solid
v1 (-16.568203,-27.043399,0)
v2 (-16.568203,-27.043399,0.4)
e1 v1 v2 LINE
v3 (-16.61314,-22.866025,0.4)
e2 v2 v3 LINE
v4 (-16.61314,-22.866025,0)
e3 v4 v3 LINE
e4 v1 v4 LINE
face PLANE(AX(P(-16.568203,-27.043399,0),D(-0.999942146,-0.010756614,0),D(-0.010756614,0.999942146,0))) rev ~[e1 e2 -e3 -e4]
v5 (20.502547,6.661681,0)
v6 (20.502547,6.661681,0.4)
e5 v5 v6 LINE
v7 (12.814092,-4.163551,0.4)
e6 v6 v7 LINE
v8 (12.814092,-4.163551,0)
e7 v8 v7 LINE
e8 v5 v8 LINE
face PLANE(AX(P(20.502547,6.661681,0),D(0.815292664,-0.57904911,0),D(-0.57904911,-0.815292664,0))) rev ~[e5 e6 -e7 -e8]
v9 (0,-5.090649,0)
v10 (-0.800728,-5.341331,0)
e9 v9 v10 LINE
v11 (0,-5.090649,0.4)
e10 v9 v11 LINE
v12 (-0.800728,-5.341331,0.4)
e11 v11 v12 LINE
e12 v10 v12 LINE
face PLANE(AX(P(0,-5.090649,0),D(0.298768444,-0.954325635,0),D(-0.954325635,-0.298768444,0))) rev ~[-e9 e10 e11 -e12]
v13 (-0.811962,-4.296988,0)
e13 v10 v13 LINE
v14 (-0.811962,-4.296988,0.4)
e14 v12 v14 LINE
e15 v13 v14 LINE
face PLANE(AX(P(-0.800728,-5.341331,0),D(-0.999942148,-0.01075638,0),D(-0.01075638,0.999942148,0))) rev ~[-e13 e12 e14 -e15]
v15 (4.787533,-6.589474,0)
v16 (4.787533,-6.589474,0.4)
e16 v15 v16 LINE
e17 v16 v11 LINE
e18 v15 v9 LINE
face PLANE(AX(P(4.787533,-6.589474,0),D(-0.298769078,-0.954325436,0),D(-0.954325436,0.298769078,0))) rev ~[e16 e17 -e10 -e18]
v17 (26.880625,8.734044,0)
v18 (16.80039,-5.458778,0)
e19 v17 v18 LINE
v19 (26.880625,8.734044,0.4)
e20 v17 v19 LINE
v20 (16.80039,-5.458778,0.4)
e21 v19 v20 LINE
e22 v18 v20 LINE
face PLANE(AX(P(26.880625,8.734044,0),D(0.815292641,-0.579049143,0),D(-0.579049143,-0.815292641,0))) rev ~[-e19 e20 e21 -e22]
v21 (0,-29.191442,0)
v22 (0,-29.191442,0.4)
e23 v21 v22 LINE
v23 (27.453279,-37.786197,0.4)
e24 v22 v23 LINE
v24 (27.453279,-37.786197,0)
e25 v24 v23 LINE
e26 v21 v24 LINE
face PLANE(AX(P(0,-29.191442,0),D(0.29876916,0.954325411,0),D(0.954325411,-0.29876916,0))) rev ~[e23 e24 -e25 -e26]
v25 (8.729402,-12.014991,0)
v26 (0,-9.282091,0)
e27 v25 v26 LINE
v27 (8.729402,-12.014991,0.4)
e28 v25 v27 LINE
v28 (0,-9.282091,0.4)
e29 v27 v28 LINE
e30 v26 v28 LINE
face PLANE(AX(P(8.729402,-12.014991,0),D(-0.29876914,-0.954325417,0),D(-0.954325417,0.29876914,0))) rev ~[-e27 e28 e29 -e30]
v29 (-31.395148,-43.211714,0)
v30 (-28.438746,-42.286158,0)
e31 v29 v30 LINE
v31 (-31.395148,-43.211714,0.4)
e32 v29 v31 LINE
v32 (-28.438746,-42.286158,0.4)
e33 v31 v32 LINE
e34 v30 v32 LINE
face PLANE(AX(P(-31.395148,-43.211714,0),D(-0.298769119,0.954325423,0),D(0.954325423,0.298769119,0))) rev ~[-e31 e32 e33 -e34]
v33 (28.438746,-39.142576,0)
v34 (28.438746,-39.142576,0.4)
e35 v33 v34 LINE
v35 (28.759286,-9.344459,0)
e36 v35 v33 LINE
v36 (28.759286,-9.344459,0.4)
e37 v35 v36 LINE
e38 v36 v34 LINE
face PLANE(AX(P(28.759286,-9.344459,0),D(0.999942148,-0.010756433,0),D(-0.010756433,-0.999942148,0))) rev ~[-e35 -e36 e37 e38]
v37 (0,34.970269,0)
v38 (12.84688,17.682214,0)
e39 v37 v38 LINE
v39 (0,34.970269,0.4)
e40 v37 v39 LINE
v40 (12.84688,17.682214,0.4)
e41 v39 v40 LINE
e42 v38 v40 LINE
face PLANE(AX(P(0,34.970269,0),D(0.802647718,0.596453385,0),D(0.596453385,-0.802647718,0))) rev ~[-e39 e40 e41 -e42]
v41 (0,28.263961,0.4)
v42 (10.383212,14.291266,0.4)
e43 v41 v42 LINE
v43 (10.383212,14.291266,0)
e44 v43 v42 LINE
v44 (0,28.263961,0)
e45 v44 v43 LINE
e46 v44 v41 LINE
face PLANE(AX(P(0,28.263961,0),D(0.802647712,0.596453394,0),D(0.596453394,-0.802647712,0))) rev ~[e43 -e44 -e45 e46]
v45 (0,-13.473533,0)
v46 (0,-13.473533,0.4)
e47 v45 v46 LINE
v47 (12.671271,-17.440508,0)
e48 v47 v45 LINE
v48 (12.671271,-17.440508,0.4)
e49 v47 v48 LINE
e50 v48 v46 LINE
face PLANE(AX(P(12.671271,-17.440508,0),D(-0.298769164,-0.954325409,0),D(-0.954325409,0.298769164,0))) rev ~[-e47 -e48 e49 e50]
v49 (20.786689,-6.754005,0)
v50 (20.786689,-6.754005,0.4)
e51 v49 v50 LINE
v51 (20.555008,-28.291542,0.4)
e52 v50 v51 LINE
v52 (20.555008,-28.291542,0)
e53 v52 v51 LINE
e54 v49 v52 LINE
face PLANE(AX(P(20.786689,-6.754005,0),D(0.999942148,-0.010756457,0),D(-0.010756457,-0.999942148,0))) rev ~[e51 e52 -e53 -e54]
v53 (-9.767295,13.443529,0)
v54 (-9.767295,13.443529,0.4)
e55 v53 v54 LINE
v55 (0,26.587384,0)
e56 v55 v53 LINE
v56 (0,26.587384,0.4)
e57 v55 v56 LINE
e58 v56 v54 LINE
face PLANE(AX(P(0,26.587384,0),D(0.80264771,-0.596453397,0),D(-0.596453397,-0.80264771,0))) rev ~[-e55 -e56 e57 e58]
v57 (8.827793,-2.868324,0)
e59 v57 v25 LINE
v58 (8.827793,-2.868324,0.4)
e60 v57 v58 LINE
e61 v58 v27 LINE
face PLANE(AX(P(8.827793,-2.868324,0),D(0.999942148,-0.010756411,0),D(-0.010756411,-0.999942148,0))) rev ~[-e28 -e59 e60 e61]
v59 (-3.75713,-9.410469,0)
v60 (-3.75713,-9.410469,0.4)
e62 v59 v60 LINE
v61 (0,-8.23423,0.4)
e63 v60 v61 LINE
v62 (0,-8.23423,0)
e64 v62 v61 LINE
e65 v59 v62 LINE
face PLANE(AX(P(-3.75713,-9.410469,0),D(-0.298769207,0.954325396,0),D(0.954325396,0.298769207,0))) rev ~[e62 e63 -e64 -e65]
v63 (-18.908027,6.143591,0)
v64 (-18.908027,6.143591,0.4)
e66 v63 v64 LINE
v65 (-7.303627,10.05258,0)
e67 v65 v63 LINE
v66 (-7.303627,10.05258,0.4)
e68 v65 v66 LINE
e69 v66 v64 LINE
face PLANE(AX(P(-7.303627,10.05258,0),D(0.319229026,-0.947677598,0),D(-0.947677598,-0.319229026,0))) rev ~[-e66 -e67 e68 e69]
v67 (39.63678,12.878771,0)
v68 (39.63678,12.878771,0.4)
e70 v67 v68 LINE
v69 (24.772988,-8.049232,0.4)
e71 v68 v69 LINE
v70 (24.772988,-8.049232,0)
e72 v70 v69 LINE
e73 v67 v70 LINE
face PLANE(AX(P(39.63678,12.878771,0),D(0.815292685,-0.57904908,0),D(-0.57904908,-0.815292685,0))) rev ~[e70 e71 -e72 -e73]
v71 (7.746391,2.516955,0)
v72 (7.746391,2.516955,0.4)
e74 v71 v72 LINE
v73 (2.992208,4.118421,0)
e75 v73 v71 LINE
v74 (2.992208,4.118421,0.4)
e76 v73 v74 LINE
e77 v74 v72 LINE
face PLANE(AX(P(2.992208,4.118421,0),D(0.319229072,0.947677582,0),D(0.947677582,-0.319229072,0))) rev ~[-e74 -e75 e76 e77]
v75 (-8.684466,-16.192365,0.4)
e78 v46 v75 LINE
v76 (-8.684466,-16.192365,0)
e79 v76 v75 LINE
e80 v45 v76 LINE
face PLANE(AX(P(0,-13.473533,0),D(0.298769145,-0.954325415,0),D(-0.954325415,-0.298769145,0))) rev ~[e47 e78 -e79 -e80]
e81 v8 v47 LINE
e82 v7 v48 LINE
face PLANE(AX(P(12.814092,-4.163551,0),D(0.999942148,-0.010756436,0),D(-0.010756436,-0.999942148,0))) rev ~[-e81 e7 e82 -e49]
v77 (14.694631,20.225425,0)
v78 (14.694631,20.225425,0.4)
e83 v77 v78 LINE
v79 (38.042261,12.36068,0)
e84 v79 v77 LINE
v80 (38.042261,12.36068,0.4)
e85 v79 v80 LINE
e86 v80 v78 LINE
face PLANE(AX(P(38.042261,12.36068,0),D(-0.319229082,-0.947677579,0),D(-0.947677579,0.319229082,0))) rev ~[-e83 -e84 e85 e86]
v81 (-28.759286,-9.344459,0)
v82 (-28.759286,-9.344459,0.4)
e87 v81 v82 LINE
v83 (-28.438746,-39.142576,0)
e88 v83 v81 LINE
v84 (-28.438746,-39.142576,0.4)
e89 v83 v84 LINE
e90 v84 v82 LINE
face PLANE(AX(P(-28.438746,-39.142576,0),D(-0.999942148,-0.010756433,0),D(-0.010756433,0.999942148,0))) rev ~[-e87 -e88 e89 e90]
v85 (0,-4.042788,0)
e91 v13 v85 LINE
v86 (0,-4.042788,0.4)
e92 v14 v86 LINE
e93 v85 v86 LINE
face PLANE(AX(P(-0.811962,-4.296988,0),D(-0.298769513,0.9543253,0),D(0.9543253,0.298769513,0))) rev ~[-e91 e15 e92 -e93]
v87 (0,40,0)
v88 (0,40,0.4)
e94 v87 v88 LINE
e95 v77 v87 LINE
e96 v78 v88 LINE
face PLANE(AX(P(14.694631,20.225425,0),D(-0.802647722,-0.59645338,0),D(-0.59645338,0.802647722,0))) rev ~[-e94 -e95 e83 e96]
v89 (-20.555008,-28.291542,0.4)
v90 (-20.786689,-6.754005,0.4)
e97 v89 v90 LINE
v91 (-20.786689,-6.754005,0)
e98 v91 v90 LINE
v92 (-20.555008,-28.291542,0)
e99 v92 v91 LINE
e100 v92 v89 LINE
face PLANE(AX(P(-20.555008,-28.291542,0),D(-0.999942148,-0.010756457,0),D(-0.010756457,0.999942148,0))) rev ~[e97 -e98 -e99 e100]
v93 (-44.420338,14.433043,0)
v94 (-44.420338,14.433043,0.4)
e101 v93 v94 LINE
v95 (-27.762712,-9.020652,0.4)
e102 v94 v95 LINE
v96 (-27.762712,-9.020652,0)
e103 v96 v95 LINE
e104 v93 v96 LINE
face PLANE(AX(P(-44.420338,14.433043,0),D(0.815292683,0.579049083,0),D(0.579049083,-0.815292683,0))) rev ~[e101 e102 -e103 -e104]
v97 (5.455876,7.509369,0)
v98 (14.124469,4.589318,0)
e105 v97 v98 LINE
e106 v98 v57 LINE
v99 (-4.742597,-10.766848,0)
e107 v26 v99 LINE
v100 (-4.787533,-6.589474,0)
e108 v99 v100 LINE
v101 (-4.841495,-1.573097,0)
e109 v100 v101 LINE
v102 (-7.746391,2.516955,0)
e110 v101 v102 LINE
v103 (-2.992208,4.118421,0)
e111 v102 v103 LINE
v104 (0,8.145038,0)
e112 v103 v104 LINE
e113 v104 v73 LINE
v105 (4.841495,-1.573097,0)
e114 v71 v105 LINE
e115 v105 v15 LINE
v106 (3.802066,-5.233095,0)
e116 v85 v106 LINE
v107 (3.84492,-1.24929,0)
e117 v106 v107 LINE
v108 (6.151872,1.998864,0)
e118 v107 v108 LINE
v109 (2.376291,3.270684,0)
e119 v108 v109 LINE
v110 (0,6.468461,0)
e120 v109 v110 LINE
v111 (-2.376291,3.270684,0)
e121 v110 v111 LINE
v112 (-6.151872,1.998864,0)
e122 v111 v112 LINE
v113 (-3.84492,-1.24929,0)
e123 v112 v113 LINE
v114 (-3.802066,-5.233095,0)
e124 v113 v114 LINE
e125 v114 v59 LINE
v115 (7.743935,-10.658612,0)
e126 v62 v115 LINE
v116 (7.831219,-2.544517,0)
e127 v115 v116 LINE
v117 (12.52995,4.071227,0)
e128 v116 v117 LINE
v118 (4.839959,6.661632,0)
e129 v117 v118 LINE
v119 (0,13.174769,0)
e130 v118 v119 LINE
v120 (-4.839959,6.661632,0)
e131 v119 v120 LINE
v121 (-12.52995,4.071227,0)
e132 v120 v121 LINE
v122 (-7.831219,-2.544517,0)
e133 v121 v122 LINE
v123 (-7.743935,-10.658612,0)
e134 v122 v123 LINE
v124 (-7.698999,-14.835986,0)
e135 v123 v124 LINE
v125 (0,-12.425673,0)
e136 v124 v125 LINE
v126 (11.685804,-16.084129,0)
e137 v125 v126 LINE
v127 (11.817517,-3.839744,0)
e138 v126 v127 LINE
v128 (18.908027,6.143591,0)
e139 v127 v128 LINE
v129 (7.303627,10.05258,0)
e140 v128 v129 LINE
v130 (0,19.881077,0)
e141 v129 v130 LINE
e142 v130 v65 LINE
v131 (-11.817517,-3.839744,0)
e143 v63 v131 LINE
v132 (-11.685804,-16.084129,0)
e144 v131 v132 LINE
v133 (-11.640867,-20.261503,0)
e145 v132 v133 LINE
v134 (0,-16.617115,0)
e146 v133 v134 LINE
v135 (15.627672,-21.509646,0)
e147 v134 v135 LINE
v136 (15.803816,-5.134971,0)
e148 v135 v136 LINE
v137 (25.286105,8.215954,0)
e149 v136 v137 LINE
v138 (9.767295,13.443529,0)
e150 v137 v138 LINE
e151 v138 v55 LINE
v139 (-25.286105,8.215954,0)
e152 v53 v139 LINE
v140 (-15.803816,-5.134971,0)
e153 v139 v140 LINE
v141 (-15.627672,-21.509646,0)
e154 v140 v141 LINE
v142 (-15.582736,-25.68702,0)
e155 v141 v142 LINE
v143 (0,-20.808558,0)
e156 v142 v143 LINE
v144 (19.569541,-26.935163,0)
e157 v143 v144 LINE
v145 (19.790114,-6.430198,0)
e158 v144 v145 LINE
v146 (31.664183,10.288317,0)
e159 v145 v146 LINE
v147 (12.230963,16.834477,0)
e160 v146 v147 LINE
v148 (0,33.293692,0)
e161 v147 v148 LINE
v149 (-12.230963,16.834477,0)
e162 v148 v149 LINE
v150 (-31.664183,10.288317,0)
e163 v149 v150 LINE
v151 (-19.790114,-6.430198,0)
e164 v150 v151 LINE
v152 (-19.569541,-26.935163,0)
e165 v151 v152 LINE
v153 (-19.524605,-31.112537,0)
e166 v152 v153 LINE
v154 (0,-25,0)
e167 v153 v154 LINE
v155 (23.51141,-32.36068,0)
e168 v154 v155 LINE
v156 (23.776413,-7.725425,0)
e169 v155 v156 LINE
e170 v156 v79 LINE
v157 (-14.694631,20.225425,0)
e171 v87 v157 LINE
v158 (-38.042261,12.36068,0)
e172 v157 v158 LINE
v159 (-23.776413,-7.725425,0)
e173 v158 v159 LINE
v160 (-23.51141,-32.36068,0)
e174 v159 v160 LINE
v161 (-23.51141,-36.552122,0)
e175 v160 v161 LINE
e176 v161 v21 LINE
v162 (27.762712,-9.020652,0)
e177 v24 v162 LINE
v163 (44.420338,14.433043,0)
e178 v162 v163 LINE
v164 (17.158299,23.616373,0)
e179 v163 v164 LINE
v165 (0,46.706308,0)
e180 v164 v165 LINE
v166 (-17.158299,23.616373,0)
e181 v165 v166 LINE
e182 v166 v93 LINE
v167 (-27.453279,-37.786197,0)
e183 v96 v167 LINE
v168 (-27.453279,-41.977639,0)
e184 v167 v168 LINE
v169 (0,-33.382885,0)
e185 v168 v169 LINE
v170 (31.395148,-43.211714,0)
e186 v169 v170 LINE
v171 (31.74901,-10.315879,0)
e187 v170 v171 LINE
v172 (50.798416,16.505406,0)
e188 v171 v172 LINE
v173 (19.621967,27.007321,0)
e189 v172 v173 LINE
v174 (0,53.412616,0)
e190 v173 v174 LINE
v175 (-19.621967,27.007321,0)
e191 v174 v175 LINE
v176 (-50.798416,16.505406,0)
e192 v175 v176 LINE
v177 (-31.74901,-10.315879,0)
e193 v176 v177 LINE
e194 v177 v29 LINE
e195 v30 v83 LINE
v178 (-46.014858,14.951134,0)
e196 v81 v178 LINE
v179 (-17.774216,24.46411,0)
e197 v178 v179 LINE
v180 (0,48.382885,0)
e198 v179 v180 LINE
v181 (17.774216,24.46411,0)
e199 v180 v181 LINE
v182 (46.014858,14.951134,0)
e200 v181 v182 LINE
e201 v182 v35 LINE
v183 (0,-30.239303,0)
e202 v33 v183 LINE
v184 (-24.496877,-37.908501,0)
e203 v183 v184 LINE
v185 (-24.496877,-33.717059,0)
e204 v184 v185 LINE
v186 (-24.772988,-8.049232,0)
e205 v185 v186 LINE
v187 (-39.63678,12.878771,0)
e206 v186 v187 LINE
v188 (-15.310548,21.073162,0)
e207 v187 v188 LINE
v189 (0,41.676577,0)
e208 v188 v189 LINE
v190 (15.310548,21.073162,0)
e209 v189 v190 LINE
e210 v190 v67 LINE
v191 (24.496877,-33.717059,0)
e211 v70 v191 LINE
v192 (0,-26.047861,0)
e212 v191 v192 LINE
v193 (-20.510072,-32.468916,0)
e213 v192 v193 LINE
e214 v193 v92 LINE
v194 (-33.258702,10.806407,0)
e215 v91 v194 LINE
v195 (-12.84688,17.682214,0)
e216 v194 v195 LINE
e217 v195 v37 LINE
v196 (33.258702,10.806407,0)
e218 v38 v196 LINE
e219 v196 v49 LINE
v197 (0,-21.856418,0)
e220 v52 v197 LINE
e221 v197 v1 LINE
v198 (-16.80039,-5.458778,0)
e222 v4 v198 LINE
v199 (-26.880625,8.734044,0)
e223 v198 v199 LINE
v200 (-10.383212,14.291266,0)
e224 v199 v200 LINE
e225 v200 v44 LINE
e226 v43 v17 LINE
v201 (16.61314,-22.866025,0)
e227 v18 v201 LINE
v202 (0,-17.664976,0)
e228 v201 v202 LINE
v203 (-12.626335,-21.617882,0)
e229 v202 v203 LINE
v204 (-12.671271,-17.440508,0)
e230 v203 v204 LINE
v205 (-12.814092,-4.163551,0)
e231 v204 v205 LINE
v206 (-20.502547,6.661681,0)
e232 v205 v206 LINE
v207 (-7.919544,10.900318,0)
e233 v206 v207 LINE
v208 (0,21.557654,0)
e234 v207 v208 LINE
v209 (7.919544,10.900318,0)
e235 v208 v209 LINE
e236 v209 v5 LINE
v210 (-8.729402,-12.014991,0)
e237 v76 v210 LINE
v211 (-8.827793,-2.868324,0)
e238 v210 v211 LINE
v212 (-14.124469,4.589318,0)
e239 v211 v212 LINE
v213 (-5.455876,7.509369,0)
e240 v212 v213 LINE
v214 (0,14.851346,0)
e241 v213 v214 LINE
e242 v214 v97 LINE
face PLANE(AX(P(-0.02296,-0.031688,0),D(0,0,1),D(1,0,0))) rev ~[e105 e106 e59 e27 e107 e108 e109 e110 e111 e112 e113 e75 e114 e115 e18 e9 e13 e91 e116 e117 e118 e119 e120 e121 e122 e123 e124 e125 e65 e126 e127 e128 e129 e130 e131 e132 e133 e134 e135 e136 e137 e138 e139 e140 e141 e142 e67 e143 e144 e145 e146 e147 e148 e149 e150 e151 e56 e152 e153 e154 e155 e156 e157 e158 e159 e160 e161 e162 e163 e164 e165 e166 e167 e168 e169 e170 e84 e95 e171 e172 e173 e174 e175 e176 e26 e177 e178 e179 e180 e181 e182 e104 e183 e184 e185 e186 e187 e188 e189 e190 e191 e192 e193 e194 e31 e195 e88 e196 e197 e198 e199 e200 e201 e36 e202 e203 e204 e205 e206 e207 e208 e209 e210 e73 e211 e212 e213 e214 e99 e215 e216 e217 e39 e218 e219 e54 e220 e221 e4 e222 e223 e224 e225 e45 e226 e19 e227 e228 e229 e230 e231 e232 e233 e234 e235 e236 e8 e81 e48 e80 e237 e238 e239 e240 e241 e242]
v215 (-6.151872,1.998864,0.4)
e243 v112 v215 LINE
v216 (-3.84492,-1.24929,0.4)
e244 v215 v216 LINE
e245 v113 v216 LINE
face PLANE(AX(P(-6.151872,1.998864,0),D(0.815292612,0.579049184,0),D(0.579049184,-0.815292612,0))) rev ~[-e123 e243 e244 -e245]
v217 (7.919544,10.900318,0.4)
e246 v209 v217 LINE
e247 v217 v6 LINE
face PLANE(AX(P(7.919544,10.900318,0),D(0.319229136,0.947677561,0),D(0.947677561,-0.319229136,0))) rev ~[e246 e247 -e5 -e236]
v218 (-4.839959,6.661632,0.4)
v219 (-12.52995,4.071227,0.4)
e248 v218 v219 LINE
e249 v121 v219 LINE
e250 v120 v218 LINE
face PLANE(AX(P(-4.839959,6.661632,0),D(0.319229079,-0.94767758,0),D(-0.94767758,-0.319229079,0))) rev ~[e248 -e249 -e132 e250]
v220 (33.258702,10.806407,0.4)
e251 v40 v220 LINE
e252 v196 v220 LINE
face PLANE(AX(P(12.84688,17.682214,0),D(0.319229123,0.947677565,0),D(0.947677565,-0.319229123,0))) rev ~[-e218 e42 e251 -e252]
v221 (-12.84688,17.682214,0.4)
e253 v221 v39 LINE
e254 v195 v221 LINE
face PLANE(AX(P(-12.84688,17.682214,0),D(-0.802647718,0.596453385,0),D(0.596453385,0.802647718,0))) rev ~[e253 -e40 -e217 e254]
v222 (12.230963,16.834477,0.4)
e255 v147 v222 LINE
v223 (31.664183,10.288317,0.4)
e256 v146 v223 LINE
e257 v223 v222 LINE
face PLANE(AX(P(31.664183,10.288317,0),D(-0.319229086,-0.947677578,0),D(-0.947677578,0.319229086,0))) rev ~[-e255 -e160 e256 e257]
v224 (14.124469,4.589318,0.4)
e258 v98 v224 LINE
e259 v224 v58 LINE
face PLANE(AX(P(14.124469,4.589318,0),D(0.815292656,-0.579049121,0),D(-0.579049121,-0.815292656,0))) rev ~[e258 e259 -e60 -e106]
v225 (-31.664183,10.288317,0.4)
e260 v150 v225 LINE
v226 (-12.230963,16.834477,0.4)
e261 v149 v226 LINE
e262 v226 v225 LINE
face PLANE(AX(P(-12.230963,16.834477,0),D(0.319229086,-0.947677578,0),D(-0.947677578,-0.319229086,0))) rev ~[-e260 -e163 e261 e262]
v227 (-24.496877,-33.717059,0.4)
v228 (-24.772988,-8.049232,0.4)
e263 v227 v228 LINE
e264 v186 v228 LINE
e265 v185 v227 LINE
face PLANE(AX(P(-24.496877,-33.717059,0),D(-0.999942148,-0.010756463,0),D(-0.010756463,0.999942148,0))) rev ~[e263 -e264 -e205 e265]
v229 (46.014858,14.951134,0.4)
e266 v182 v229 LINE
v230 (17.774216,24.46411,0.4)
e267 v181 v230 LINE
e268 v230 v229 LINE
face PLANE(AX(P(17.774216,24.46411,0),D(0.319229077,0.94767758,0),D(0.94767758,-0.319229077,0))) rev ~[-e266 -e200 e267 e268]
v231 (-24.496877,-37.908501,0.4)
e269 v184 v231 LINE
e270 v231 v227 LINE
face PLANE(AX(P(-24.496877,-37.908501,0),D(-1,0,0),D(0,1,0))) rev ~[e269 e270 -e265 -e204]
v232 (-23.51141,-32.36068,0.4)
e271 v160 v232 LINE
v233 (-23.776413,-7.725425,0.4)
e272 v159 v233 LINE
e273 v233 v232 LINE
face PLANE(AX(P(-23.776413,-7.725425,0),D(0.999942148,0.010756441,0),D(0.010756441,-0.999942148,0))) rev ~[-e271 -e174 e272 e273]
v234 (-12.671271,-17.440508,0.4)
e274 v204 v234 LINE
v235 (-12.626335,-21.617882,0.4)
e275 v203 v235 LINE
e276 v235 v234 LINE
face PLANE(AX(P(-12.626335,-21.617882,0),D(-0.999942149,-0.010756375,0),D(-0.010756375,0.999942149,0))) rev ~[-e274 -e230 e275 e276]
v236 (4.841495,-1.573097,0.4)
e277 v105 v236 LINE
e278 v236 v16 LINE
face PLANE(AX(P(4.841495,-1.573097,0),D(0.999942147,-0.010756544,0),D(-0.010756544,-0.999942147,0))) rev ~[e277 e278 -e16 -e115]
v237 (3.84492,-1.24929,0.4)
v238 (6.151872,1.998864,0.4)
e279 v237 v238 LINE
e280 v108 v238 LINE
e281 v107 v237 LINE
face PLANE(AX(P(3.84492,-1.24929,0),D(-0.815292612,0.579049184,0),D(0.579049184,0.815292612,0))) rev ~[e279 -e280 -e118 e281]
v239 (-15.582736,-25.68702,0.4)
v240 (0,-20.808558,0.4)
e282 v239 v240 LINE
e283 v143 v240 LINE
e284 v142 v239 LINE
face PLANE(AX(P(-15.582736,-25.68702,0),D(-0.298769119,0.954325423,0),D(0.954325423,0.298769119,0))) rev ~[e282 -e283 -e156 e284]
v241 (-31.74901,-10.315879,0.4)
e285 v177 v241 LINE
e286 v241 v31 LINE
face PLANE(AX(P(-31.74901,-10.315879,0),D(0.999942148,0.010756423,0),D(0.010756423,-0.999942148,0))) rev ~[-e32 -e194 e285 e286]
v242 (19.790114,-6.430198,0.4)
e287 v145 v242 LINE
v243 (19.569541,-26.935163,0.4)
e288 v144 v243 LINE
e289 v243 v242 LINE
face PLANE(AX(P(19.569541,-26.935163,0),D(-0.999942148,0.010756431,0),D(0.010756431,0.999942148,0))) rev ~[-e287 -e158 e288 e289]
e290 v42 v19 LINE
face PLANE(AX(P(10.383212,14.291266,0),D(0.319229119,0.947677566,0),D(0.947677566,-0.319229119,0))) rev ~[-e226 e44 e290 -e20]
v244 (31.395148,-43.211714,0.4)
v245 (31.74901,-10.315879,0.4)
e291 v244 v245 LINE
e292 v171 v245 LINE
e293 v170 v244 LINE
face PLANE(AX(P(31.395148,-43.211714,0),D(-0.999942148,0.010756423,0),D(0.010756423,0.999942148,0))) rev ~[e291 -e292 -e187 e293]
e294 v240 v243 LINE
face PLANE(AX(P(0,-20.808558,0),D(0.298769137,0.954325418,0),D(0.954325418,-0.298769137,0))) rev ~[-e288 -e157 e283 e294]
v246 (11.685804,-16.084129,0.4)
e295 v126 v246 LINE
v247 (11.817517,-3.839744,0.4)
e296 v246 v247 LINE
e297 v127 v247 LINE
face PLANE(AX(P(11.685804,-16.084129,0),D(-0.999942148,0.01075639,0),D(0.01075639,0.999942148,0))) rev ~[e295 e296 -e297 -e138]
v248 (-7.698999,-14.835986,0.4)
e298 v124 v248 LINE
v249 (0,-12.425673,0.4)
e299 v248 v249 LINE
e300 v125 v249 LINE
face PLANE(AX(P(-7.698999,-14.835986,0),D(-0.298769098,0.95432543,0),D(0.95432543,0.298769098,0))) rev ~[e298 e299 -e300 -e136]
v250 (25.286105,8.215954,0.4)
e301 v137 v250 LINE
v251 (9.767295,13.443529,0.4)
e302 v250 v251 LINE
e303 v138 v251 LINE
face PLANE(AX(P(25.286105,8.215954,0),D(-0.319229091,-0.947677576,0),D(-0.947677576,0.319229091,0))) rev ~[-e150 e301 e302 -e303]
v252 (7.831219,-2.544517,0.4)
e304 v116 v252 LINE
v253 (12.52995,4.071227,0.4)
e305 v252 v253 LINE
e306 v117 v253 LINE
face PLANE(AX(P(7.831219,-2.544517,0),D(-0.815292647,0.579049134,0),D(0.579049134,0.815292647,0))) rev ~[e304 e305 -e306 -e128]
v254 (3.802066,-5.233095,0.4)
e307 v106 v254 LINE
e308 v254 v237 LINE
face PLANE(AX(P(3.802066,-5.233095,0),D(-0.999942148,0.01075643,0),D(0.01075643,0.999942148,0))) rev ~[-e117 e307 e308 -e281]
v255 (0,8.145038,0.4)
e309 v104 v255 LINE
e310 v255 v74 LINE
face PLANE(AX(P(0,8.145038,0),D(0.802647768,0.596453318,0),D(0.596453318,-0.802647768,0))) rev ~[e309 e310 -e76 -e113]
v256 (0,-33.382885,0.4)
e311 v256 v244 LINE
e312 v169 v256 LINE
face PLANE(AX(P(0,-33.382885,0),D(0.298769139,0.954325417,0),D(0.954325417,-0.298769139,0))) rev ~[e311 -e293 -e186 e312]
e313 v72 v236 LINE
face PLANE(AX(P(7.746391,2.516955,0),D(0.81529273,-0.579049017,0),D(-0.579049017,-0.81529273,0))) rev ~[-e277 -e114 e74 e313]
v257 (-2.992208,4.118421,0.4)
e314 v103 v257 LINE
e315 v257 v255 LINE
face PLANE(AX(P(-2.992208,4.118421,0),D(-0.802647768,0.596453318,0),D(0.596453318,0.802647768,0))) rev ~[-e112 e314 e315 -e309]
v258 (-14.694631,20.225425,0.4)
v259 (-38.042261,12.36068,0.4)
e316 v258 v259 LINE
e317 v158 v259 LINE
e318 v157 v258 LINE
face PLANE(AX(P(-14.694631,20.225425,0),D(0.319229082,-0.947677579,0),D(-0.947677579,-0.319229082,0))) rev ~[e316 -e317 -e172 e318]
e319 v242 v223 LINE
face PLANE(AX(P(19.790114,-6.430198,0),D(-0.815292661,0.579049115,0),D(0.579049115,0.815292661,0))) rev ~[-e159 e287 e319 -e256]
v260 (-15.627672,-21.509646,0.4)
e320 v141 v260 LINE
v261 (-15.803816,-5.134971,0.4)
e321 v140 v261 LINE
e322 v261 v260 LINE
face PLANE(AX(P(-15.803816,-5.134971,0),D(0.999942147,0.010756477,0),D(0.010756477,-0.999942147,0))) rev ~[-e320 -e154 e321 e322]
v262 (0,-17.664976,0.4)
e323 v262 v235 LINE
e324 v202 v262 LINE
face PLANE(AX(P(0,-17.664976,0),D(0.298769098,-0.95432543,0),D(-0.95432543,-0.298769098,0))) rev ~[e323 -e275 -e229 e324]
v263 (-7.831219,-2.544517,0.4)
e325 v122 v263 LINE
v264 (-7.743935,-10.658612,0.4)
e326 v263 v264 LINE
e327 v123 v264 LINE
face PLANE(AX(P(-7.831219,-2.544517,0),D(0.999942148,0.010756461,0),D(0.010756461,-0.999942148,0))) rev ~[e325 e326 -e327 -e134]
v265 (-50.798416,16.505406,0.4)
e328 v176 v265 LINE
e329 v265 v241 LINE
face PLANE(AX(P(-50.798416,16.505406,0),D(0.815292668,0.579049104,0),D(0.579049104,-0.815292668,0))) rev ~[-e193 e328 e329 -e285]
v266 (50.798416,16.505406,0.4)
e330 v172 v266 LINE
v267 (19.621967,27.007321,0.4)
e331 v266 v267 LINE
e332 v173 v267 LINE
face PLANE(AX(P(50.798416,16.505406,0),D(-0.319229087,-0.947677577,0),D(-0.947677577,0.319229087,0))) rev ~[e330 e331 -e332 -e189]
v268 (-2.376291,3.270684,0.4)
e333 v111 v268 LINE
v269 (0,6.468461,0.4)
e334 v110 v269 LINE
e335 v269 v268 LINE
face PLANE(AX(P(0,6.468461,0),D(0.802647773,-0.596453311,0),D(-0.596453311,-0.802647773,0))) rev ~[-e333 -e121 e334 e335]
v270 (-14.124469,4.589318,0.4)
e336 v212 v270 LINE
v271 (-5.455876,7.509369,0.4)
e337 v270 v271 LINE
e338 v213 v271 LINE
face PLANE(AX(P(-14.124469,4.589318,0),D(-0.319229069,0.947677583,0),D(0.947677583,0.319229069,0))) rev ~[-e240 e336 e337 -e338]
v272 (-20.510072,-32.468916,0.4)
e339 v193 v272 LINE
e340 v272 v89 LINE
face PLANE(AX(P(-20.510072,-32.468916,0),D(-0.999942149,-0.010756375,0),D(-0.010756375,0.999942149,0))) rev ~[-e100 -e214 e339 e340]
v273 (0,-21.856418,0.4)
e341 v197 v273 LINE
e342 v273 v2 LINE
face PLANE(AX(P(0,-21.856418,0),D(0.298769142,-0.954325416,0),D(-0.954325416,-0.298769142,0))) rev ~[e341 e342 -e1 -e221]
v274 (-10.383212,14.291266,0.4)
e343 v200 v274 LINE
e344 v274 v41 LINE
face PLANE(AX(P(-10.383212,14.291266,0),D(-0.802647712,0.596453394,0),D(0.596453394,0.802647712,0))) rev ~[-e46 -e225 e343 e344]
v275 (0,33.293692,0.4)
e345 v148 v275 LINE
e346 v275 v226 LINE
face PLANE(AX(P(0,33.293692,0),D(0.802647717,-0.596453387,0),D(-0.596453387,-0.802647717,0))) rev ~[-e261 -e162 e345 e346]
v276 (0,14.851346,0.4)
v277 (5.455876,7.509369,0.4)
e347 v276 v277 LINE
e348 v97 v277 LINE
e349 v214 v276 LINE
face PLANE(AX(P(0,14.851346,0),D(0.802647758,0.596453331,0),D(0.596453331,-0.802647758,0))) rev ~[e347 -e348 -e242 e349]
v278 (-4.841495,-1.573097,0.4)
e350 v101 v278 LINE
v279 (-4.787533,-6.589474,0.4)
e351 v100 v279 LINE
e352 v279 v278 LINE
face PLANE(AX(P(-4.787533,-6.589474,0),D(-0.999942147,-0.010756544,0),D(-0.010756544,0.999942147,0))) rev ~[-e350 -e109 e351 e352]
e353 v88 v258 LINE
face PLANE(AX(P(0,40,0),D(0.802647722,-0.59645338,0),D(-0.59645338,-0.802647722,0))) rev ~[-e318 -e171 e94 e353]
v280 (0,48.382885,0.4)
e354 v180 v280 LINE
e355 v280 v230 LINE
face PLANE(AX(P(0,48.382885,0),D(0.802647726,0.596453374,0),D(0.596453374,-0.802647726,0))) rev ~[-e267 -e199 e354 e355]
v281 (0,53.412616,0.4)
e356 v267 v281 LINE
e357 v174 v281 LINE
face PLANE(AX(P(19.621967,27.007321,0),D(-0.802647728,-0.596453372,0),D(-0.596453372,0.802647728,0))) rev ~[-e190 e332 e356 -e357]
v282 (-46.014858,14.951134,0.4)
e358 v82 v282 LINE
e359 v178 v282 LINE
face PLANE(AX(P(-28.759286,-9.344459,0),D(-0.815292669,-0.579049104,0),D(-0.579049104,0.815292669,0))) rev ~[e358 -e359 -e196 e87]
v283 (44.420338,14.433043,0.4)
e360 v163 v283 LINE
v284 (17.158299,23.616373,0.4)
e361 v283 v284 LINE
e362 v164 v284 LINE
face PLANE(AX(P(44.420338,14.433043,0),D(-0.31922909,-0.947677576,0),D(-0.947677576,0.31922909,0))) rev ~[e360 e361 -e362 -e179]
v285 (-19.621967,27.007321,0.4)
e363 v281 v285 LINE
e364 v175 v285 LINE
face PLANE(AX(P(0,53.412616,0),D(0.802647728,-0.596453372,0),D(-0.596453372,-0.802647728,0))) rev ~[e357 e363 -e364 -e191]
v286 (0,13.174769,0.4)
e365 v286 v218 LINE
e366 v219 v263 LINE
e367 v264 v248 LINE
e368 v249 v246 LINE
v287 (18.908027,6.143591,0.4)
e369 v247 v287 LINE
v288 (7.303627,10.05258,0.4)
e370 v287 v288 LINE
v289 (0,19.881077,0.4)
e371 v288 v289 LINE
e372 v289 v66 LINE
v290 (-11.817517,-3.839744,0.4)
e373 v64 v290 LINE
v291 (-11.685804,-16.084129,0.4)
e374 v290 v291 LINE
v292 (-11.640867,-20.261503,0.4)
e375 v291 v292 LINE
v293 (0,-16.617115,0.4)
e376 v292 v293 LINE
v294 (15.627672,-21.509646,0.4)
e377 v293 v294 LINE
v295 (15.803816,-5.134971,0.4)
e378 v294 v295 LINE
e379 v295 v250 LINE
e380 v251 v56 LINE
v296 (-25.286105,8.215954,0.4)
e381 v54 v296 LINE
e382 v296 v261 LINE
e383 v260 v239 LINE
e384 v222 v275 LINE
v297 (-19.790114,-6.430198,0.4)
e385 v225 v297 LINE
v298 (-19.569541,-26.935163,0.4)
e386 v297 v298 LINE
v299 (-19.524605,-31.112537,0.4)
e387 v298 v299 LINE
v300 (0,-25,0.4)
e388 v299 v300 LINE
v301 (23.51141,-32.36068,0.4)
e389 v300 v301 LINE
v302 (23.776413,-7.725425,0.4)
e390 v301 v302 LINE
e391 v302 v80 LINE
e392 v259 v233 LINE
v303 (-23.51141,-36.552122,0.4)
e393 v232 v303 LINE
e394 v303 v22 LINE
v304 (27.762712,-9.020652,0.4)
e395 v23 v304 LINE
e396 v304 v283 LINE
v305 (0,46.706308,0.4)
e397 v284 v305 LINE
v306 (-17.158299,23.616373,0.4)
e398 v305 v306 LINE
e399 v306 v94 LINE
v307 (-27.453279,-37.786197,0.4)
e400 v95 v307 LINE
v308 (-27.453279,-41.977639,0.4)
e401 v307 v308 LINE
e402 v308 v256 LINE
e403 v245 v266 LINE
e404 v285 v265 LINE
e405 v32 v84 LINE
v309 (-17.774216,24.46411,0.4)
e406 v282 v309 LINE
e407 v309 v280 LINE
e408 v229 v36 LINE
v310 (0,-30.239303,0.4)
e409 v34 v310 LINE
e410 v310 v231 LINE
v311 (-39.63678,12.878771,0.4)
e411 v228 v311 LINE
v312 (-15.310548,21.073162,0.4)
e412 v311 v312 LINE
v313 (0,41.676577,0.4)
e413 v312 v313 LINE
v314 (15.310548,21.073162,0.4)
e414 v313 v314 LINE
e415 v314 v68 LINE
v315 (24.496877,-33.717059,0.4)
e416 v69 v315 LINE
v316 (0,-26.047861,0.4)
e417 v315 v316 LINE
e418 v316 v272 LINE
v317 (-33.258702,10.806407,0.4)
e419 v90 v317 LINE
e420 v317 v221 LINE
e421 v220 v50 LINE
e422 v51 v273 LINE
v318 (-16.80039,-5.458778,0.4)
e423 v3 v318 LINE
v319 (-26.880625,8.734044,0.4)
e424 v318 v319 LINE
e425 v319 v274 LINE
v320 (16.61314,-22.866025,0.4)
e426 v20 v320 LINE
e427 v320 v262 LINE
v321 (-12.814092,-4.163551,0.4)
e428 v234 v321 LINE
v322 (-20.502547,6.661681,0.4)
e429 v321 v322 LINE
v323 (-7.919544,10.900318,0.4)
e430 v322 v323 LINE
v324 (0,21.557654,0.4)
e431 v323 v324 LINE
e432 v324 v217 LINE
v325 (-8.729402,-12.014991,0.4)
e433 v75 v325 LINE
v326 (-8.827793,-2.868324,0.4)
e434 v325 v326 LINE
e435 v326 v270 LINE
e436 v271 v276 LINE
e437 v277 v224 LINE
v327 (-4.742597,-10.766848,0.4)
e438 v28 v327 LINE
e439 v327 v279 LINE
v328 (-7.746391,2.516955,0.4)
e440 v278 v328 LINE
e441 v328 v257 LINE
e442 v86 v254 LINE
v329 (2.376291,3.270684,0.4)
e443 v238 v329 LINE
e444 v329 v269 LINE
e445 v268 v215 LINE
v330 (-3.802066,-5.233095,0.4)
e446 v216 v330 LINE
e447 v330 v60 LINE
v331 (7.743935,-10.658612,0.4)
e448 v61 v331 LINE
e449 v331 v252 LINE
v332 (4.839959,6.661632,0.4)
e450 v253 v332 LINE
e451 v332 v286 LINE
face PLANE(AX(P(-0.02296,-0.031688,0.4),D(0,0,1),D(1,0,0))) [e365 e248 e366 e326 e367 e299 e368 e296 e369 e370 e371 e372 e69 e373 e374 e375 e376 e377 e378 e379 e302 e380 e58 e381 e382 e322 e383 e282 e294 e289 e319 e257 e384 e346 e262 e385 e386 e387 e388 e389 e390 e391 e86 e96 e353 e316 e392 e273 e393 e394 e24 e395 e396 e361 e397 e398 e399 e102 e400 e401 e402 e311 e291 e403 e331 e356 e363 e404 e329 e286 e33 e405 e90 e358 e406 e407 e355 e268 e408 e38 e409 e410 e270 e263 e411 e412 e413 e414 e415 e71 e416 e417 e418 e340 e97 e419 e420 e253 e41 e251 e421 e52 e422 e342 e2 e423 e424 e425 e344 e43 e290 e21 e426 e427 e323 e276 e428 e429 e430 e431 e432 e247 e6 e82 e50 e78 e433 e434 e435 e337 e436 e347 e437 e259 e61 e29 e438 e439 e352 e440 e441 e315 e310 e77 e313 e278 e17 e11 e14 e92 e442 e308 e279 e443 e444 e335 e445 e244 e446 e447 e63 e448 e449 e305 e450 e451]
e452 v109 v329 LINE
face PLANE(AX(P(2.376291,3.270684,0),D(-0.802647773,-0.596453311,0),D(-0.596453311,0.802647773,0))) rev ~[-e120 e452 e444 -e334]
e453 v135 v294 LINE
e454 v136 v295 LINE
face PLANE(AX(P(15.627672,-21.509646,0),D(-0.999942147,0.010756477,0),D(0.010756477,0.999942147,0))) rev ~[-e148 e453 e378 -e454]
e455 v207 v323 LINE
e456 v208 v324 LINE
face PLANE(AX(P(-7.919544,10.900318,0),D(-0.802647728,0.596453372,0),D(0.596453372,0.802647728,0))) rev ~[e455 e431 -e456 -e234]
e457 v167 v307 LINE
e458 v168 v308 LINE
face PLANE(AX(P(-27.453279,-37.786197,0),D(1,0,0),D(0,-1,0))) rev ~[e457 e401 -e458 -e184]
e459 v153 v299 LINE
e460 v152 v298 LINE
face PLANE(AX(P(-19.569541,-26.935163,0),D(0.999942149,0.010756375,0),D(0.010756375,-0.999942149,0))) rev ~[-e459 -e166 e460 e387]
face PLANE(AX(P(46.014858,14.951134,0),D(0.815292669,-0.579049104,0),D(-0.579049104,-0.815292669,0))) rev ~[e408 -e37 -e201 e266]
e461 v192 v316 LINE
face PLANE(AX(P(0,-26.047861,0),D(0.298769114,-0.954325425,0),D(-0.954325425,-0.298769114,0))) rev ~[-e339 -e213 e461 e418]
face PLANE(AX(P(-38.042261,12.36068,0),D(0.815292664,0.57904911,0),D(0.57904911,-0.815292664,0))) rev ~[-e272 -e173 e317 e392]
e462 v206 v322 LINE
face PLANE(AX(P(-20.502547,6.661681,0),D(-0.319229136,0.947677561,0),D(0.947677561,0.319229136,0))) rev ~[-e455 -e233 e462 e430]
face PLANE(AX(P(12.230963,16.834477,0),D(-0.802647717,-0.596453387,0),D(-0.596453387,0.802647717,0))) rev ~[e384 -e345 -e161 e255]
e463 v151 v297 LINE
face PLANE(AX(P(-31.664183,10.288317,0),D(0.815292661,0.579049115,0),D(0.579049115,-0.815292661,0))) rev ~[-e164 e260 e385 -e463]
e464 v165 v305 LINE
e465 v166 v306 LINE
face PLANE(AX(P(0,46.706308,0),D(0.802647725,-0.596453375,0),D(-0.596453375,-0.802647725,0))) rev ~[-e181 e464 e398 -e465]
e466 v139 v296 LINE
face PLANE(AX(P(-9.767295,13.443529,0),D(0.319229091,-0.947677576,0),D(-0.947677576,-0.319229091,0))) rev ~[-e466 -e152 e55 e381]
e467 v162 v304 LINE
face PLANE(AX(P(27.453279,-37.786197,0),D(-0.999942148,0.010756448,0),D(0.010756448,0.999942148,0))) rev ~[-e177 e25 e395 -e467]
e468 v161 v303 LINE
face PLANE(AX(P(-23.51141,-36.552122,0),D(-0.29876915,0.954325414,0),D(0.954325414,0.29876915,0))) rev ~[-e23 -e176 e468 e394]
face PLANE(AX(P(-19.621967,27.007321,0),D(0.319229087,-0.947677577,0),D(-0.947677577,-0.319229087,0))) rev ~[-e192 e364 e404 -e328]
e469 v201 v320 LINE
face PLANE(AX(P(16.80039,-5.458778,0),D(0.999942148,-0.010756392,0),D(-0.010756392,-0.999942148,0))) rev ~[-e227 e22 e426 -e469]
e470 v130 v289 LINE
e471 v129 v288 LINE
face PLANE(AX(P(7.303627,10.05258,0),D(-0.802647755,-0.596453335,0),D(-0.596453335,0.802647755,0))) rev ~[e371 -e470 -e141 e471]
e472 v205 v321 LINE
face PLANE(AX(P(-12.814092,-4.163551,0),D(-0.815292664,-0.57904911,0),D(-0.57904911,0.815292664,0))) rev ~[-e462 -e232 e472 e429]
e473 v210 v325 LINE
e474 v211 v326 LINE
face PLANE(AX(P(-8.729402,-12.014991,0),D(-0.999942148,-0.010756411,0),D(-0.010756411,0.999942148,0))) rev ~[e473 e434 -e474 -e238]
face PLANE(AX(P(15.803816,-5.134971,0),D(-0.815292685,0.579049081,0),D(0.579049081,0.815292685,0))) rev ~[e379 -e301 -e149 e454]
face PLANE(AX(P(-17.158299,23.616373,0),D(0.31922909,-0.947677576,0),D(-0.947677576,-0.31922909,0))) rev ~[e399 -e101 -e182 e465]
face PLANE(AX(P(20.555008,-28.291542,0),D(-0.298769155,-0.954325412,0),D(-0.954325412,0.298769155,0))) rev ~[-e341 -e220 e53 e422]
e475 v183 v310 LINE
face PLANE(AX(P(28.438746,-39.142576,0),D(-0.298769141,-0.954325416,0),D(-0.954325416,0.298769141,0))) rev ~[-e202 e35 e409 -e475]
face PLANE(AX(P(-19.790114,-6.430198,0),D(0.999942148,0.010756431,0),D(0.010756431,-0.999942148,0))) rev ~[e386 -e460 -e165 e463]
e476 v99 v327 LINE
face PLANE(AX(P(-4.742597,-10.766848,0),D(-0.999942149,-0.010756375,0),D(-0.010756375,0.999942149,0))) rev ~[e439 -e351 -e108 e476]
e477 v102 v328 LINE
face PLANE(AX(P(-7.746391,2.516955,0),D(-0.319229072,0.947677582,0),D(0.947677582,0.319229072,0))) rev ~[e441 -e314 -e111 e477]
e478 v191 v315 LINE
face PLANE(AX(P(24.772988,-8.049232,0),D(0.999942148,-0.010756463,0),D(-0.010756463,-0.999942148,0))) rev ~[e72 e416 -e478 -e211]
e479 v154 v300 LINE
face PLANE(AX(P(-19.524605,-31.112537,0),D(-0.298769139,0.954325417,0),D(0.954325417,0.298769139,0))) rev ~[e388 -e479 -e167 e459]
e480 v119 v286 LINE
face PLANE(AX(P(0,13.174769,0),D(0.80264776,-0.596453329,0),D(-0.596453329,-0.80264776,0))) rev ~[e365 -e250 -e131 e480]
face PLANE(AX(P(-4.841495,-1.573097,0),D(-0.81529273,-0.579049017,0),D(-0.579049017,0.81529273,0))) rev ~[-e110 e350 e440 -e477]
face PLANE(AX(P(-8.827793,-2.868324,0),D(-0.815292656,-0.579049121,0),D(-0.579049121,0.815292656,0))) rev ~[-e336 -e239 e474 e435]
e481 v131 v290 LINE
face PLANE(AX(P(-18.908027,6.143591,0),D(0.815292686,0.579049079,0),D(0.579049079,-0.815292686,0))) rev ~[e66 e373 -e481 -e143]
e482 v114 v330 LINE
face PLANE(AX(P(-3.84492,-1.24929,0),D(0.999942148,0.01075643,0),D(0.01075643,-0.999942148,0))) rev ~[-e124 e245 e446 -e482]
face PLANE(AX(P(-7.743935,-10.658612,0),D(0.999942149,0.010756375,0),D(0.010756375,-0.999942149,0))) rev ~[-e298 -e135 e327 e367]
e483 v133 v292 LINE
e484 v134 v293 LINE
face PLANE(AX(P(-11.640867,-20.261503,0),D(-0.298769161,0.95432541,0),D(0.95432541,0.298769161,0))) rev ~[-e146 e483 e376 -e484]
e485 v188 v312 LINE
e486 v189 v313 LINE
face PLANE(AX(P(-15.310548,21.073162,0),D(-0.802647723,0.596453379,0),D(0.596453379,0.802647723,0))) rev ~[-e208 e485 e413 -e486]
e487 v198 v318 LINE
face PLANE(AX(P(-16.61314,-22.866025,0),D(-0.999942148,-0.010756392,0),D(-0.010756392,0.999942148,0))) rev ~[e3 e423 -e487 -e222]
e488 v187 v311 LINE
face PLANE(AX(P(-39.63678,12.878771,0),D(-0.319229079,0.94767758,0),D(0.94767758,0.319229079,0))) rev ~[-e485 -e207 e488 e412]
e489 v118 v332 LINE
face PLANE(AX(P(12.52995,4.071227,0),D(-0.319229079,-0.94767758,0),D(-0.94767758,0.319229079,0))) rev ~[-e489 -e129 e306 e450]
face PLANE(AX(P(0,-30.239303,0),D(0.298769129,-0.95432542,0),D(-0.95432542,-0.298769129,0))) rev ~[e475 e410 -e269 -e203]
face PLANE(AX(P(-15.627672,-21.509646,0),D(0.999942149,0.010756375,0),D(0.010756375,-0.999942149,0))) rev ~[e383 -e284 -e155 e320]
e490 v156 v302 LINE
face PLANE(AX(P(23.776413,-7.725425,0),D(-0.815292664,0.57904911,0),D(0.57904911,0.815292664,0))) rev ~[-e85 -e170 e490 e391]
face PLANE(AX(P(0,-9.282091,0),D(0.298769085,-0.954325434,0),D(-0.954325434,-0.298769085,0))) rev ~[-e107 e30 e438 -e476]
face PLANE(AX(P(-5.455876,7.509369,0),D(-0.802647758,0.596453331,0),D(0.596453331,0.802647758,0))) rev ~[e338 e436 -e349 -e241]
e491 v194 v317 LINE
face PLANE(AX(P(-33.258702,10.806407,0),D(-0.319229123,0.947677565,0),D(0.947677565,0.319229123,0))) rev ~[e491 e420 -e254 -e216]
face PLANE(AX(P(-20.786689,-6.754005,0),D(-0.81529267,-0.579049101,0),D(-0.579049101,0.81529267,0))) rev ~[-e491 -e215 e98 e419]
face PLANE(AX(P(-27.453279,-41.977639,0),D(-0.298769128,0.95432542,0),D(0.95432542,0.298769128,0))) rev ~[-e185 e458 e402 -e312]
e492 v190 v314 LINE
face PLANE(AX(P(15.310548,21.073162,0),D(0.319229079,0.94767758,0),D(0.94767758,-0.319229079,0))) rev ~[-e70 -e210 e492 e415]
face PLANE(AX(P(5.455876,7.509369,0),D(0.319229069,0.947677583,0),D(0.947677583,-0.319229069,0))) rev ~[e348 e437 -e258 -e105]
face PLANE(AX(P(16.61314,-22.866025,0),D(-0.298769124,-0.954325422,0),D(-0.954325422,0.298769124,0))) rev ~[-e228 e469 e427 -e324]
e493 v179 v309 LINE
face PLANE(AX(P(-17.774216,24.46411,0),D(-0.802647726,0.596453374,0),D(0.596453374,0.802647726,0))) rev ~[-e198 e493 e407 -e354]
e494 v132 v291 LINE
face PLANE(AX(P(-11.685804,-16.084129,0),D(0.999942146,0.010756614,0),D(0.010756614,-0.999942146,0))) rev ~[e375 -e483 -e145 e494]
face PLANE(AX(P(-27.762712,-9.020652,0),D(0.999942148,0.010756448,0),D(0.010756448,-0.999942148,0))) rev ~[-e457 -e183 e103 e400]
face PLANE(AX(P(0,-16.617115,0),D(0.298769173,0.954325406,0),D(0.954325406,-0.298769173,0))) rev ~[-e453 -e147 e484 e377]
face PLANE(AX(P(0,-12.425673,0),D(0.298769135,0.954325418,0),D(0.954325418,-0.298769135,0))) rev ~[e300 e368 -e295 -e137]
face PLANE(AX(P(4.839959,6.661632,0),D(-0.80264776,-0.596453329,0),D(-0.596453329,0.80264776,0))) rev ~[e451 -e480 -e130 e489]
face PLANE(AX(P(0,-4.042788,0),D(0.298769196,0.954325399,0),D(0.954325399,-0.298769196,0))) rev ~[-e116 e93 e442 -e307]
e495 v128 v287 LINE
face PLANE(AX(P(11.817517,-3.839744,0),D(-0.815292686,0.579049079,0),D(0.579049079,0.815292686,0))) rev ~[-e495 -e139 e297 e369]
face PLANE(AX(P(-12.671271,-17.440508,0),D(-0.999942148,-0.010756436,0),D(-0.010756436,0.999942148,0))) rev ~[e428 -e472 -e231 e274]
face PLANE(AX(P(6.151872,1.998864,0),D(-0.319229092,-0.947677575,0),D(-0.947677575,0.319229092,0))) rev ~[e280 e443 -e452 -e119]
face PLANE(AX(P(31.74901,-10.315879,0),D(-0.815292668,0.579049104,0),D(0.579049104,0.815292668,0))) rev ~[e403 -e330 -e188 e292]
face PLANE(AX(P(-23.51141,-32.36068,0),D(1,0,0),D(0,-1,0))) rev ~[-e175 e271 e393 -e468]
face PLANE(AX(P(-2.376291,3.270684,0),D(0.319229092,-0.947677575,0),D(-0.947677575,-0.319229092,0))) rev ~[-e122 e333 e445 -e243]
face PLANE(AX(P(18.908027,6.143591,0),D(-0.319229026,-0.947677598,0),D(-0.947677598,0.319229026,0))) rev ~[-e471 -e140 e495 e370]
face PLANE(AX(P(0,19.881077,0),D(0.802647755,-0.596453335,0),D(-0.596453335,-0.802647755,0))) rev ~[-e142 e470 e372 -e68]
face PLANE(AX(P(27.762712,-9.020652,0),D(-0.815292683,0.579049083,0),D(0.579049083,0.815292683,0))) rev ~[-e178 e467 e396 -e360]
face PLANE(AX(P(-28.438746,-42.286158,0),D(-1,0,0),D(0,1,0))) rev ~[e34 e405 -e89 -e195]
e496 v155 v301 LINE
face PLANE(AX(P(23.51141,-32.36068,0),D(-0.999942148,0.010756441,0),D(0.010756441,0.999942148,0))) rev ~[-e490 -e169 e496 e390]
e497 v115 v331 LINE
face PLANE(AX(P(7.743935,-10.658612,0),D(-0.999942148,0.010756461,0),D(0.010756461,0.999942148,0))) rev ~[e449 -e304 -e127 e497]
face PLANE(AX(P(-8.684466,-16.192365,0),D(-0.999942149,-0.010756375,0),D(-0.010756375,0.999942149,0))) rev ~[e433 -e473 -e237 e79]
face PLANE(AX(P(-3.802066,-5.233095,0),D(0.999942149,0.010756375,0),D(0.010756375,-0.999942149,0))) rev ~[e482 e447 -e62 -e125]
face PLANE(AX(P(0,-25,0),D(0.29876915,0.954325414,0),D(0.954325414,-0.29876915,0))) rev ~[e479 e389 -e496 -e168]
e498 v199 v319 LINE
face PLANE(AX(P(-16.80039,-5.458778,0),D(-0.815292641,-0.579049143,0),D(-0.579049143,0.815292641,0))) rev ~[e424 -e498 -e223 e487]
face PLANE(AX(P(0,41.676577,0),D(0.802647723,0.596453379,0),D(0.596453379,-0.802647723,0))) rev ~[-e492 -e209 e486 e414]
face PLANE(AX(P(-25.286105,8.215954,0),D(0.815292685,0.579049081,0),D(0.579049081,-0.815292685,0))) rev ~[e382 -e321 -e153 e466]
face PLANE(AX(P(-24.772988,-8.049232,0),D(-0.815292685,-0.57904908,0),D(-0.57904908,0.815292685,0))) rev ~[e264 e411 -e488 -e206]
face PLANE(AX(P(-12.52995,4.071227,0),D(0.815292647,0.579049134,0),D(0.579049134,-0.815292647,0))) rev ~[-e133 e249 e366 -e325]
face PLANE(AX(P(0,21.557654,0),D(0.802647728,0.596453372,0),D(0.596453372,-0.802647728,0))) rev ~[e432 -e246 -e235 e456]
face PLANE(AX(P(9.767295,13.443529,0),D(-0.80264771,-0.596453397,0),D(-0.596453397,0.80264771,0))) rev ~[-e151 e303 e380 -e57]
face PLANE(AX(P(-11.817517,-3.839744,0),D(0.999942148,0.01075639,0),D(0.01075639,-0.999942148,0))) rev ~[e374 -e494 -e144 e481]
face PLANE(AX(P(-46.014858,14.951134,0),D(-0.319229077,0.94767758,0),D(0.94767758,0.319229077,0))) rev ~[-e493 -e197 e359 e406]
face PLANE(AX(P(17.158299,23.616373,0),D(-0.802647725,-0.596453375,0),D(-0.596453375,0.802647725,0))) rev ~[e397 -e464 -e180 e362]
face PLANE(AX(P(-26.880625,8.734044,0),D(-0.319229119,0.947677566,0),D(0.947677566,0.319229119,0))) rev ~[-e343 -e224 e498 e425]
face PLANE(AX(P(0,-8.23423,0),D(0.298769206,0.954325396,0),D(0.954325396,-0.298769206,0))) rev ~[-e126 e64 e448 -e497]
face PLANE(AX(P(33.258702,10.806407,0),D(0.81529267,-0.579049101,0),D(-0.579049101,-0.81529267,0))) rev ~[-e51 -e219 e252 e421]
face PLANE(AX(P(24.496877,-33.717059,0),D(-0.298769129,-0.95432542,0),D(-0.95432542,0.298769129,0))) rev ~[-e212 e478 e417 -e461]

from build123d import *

# Parameters (mm, degrees)
F1_DEPTH = 0.4


with BuildPart() as f1:
    # F0 (on Top) → F1 (new body)
    with BuildSketch(Plane.XY):
        Polygon((14.694631, 20.225425), (0, 40), (-14.694631, 20.225425), (-38.042261, 12.36068), (-23.776413, -7.725425), (-23.51141, -32.36068), (-23.51141, -36.552122), (0, -29.191442), (27.453279, -37.786197), (27.762712, -9.020652), (44.420338, 14.433043), (17.158299, 23.616373), (0, 46.706308), (-17.158299, 23.616373), (-44.420338, 14.433043), (-27.762712, -9.020652), (-27.453279, -37.786197), (-27.453279, -41.977639), (0, -33.382885), (31.395148, -43.211714), (31.74901, -10.315879), (50.798416, 16.505406), (19.621967, 27.007321), (0, 53.412616), (-19.621967, 27.007321), (-50.798416, 16.505406), (-31.74901, -10.315879), (-31.395148, -43.211714), (-28.438746, -42.286158), (-28.438746, -39.142576), (-28.759286, -9.344459), (-46.014858, 14.951134), (-17.774216, 24.46411), (0, 48.382885), (17.774216, 24.46411), (46.014858, 14.951134), (28.759286, -9.344459), (28.438746, -39.142576), (0, -30.239303), (-24.496877, -37.908501), (-24.496877, -33.717059), (-24.772988, -8.049232), (-39.63678, 12.878771), (-15.310548, 21.073162), (0, 41.676577), (15.310548, 21.073162), (39.63678, 12.878771), (24.772988, -8.049232), (24.496877, -33.717059), (0, -26.047861), (-20.510072, -32.468916), (-20.555008, -28.291542), (-20.786689, -6.754005), (-33.258702, 10.806407), (-12.84688, 17.682214), (0, 34.970269), (12.84688, 17.682214), (33.258702, 10.806407), (20.786689, -6.754005), (20.555008, -28.291542), (0, -21.856418), (-16.568203, -27.043399), (-16.61314, -22.866025), (-16.80039, -5.458778), (-26.880625, 8.734044), (-10.383212, 14.291266), (0, 28.263961), (10.383212, 14.291266), (26.880625, 8.734044), (16.80039, -5.458778), (16.61314, -22.866025), (0, -17.664976), (-12.626335, -21.617882), (-12.671271, -17.440508), (-12.814092, -4.163551), (-20.502547, 6.661681), (-7.919544, 10.900318), (0, 21.557654), (7.919544, 10.900318), (20.502547, 6.661681), (12.814092, -4.163551), (12.671271, -17.440508), (0, -13.473533), (-8.684466, -16.192365), (-8.729402, -12.014991), (-8.827793, -2.868324), (-14.124469, 4.589318), (-5.455876, 7.509369), (0, 14.851346), (5.455876, 7.509369), (14.124469, 4.589318), (8.827793, -2.868324), (8.729402, -12.014991), (0, -9.282091), (-4.742597, -10.766848), (-4.787533, -6.589474), (-4.841495, -1.573097), (-7.746391, 2.516955), (-2.992208, 4.118421), (0, 8.145038), (2.992208, 4.118421), (7.746391, 2.516955), (4.841495, -1.573097), (4.787533, -6.589474), (0, -5.090649), (-0.800728, -5.341331), (-0.811962, -4.296988), (0, -4.042788), (3.802066, -5.233095), (3.84492, -1.24929), (6.151872, 1.998864), (2.376291, 3.270684), (0, 6.468461), (-2.376291, 3.270684), (-6.151872, 1.998864), (-3.84492, -1.24929), (-3.802066, -5.233095), (-3.75713, -9.410469), (0, -8.23423), (7.743935, -10.658612), (7.831219, -2.544517), (12.52995, 4.071227), (4.839959, 6.661632), (0, 13.174769), (-4.839959, 6.661632), (-12.52995, 4.071227), (-7.831219, -2.544517), (-7.743935, -10.658612), (-7.698999, -14.835986), (0, -12.425673), (11.685804, -16.084129), (11.817517, -3.839744), (18.908027, 6.143591), (7.303627, 10.05258), (0, 19.881077), (-7.303627, 10.05258), (-18.908027, 6.143591), (-11.817517, -3.839744), (-11.685804, -16.084129), (-11.640867, -20.261503), (0, -16.617115), (15.627672, -21.509646), (15.803816, -5.134971), (25.286105, 8.215954), (9.767295, 13.443529), (0, 26.587384), (-9.767295, 13.443529), (-25.286105, 8.215954), (-15.803816, -5.134971), (-15.627672, -21.509646), (-15.582736, -25.68702), (0, -20.808558), (19.569541, -26.935163), (19.790114, -6.430198), (31.664183, 10.288317), (12.230963, 16.834477), (0, 33.293692), (-12.230963, 16.834477), (-31.664183, 10.288317), (-19.790114, -6.430198), (-19.569541, -26.935163), (-19.524605, -31.112537), (0, -25), (23.51141, -32.36068), (23.776413, -7.725425), (38.042261, 12.36068), align=None)
    extrude(amount=F1_DEPTH)


solid = f1.part
